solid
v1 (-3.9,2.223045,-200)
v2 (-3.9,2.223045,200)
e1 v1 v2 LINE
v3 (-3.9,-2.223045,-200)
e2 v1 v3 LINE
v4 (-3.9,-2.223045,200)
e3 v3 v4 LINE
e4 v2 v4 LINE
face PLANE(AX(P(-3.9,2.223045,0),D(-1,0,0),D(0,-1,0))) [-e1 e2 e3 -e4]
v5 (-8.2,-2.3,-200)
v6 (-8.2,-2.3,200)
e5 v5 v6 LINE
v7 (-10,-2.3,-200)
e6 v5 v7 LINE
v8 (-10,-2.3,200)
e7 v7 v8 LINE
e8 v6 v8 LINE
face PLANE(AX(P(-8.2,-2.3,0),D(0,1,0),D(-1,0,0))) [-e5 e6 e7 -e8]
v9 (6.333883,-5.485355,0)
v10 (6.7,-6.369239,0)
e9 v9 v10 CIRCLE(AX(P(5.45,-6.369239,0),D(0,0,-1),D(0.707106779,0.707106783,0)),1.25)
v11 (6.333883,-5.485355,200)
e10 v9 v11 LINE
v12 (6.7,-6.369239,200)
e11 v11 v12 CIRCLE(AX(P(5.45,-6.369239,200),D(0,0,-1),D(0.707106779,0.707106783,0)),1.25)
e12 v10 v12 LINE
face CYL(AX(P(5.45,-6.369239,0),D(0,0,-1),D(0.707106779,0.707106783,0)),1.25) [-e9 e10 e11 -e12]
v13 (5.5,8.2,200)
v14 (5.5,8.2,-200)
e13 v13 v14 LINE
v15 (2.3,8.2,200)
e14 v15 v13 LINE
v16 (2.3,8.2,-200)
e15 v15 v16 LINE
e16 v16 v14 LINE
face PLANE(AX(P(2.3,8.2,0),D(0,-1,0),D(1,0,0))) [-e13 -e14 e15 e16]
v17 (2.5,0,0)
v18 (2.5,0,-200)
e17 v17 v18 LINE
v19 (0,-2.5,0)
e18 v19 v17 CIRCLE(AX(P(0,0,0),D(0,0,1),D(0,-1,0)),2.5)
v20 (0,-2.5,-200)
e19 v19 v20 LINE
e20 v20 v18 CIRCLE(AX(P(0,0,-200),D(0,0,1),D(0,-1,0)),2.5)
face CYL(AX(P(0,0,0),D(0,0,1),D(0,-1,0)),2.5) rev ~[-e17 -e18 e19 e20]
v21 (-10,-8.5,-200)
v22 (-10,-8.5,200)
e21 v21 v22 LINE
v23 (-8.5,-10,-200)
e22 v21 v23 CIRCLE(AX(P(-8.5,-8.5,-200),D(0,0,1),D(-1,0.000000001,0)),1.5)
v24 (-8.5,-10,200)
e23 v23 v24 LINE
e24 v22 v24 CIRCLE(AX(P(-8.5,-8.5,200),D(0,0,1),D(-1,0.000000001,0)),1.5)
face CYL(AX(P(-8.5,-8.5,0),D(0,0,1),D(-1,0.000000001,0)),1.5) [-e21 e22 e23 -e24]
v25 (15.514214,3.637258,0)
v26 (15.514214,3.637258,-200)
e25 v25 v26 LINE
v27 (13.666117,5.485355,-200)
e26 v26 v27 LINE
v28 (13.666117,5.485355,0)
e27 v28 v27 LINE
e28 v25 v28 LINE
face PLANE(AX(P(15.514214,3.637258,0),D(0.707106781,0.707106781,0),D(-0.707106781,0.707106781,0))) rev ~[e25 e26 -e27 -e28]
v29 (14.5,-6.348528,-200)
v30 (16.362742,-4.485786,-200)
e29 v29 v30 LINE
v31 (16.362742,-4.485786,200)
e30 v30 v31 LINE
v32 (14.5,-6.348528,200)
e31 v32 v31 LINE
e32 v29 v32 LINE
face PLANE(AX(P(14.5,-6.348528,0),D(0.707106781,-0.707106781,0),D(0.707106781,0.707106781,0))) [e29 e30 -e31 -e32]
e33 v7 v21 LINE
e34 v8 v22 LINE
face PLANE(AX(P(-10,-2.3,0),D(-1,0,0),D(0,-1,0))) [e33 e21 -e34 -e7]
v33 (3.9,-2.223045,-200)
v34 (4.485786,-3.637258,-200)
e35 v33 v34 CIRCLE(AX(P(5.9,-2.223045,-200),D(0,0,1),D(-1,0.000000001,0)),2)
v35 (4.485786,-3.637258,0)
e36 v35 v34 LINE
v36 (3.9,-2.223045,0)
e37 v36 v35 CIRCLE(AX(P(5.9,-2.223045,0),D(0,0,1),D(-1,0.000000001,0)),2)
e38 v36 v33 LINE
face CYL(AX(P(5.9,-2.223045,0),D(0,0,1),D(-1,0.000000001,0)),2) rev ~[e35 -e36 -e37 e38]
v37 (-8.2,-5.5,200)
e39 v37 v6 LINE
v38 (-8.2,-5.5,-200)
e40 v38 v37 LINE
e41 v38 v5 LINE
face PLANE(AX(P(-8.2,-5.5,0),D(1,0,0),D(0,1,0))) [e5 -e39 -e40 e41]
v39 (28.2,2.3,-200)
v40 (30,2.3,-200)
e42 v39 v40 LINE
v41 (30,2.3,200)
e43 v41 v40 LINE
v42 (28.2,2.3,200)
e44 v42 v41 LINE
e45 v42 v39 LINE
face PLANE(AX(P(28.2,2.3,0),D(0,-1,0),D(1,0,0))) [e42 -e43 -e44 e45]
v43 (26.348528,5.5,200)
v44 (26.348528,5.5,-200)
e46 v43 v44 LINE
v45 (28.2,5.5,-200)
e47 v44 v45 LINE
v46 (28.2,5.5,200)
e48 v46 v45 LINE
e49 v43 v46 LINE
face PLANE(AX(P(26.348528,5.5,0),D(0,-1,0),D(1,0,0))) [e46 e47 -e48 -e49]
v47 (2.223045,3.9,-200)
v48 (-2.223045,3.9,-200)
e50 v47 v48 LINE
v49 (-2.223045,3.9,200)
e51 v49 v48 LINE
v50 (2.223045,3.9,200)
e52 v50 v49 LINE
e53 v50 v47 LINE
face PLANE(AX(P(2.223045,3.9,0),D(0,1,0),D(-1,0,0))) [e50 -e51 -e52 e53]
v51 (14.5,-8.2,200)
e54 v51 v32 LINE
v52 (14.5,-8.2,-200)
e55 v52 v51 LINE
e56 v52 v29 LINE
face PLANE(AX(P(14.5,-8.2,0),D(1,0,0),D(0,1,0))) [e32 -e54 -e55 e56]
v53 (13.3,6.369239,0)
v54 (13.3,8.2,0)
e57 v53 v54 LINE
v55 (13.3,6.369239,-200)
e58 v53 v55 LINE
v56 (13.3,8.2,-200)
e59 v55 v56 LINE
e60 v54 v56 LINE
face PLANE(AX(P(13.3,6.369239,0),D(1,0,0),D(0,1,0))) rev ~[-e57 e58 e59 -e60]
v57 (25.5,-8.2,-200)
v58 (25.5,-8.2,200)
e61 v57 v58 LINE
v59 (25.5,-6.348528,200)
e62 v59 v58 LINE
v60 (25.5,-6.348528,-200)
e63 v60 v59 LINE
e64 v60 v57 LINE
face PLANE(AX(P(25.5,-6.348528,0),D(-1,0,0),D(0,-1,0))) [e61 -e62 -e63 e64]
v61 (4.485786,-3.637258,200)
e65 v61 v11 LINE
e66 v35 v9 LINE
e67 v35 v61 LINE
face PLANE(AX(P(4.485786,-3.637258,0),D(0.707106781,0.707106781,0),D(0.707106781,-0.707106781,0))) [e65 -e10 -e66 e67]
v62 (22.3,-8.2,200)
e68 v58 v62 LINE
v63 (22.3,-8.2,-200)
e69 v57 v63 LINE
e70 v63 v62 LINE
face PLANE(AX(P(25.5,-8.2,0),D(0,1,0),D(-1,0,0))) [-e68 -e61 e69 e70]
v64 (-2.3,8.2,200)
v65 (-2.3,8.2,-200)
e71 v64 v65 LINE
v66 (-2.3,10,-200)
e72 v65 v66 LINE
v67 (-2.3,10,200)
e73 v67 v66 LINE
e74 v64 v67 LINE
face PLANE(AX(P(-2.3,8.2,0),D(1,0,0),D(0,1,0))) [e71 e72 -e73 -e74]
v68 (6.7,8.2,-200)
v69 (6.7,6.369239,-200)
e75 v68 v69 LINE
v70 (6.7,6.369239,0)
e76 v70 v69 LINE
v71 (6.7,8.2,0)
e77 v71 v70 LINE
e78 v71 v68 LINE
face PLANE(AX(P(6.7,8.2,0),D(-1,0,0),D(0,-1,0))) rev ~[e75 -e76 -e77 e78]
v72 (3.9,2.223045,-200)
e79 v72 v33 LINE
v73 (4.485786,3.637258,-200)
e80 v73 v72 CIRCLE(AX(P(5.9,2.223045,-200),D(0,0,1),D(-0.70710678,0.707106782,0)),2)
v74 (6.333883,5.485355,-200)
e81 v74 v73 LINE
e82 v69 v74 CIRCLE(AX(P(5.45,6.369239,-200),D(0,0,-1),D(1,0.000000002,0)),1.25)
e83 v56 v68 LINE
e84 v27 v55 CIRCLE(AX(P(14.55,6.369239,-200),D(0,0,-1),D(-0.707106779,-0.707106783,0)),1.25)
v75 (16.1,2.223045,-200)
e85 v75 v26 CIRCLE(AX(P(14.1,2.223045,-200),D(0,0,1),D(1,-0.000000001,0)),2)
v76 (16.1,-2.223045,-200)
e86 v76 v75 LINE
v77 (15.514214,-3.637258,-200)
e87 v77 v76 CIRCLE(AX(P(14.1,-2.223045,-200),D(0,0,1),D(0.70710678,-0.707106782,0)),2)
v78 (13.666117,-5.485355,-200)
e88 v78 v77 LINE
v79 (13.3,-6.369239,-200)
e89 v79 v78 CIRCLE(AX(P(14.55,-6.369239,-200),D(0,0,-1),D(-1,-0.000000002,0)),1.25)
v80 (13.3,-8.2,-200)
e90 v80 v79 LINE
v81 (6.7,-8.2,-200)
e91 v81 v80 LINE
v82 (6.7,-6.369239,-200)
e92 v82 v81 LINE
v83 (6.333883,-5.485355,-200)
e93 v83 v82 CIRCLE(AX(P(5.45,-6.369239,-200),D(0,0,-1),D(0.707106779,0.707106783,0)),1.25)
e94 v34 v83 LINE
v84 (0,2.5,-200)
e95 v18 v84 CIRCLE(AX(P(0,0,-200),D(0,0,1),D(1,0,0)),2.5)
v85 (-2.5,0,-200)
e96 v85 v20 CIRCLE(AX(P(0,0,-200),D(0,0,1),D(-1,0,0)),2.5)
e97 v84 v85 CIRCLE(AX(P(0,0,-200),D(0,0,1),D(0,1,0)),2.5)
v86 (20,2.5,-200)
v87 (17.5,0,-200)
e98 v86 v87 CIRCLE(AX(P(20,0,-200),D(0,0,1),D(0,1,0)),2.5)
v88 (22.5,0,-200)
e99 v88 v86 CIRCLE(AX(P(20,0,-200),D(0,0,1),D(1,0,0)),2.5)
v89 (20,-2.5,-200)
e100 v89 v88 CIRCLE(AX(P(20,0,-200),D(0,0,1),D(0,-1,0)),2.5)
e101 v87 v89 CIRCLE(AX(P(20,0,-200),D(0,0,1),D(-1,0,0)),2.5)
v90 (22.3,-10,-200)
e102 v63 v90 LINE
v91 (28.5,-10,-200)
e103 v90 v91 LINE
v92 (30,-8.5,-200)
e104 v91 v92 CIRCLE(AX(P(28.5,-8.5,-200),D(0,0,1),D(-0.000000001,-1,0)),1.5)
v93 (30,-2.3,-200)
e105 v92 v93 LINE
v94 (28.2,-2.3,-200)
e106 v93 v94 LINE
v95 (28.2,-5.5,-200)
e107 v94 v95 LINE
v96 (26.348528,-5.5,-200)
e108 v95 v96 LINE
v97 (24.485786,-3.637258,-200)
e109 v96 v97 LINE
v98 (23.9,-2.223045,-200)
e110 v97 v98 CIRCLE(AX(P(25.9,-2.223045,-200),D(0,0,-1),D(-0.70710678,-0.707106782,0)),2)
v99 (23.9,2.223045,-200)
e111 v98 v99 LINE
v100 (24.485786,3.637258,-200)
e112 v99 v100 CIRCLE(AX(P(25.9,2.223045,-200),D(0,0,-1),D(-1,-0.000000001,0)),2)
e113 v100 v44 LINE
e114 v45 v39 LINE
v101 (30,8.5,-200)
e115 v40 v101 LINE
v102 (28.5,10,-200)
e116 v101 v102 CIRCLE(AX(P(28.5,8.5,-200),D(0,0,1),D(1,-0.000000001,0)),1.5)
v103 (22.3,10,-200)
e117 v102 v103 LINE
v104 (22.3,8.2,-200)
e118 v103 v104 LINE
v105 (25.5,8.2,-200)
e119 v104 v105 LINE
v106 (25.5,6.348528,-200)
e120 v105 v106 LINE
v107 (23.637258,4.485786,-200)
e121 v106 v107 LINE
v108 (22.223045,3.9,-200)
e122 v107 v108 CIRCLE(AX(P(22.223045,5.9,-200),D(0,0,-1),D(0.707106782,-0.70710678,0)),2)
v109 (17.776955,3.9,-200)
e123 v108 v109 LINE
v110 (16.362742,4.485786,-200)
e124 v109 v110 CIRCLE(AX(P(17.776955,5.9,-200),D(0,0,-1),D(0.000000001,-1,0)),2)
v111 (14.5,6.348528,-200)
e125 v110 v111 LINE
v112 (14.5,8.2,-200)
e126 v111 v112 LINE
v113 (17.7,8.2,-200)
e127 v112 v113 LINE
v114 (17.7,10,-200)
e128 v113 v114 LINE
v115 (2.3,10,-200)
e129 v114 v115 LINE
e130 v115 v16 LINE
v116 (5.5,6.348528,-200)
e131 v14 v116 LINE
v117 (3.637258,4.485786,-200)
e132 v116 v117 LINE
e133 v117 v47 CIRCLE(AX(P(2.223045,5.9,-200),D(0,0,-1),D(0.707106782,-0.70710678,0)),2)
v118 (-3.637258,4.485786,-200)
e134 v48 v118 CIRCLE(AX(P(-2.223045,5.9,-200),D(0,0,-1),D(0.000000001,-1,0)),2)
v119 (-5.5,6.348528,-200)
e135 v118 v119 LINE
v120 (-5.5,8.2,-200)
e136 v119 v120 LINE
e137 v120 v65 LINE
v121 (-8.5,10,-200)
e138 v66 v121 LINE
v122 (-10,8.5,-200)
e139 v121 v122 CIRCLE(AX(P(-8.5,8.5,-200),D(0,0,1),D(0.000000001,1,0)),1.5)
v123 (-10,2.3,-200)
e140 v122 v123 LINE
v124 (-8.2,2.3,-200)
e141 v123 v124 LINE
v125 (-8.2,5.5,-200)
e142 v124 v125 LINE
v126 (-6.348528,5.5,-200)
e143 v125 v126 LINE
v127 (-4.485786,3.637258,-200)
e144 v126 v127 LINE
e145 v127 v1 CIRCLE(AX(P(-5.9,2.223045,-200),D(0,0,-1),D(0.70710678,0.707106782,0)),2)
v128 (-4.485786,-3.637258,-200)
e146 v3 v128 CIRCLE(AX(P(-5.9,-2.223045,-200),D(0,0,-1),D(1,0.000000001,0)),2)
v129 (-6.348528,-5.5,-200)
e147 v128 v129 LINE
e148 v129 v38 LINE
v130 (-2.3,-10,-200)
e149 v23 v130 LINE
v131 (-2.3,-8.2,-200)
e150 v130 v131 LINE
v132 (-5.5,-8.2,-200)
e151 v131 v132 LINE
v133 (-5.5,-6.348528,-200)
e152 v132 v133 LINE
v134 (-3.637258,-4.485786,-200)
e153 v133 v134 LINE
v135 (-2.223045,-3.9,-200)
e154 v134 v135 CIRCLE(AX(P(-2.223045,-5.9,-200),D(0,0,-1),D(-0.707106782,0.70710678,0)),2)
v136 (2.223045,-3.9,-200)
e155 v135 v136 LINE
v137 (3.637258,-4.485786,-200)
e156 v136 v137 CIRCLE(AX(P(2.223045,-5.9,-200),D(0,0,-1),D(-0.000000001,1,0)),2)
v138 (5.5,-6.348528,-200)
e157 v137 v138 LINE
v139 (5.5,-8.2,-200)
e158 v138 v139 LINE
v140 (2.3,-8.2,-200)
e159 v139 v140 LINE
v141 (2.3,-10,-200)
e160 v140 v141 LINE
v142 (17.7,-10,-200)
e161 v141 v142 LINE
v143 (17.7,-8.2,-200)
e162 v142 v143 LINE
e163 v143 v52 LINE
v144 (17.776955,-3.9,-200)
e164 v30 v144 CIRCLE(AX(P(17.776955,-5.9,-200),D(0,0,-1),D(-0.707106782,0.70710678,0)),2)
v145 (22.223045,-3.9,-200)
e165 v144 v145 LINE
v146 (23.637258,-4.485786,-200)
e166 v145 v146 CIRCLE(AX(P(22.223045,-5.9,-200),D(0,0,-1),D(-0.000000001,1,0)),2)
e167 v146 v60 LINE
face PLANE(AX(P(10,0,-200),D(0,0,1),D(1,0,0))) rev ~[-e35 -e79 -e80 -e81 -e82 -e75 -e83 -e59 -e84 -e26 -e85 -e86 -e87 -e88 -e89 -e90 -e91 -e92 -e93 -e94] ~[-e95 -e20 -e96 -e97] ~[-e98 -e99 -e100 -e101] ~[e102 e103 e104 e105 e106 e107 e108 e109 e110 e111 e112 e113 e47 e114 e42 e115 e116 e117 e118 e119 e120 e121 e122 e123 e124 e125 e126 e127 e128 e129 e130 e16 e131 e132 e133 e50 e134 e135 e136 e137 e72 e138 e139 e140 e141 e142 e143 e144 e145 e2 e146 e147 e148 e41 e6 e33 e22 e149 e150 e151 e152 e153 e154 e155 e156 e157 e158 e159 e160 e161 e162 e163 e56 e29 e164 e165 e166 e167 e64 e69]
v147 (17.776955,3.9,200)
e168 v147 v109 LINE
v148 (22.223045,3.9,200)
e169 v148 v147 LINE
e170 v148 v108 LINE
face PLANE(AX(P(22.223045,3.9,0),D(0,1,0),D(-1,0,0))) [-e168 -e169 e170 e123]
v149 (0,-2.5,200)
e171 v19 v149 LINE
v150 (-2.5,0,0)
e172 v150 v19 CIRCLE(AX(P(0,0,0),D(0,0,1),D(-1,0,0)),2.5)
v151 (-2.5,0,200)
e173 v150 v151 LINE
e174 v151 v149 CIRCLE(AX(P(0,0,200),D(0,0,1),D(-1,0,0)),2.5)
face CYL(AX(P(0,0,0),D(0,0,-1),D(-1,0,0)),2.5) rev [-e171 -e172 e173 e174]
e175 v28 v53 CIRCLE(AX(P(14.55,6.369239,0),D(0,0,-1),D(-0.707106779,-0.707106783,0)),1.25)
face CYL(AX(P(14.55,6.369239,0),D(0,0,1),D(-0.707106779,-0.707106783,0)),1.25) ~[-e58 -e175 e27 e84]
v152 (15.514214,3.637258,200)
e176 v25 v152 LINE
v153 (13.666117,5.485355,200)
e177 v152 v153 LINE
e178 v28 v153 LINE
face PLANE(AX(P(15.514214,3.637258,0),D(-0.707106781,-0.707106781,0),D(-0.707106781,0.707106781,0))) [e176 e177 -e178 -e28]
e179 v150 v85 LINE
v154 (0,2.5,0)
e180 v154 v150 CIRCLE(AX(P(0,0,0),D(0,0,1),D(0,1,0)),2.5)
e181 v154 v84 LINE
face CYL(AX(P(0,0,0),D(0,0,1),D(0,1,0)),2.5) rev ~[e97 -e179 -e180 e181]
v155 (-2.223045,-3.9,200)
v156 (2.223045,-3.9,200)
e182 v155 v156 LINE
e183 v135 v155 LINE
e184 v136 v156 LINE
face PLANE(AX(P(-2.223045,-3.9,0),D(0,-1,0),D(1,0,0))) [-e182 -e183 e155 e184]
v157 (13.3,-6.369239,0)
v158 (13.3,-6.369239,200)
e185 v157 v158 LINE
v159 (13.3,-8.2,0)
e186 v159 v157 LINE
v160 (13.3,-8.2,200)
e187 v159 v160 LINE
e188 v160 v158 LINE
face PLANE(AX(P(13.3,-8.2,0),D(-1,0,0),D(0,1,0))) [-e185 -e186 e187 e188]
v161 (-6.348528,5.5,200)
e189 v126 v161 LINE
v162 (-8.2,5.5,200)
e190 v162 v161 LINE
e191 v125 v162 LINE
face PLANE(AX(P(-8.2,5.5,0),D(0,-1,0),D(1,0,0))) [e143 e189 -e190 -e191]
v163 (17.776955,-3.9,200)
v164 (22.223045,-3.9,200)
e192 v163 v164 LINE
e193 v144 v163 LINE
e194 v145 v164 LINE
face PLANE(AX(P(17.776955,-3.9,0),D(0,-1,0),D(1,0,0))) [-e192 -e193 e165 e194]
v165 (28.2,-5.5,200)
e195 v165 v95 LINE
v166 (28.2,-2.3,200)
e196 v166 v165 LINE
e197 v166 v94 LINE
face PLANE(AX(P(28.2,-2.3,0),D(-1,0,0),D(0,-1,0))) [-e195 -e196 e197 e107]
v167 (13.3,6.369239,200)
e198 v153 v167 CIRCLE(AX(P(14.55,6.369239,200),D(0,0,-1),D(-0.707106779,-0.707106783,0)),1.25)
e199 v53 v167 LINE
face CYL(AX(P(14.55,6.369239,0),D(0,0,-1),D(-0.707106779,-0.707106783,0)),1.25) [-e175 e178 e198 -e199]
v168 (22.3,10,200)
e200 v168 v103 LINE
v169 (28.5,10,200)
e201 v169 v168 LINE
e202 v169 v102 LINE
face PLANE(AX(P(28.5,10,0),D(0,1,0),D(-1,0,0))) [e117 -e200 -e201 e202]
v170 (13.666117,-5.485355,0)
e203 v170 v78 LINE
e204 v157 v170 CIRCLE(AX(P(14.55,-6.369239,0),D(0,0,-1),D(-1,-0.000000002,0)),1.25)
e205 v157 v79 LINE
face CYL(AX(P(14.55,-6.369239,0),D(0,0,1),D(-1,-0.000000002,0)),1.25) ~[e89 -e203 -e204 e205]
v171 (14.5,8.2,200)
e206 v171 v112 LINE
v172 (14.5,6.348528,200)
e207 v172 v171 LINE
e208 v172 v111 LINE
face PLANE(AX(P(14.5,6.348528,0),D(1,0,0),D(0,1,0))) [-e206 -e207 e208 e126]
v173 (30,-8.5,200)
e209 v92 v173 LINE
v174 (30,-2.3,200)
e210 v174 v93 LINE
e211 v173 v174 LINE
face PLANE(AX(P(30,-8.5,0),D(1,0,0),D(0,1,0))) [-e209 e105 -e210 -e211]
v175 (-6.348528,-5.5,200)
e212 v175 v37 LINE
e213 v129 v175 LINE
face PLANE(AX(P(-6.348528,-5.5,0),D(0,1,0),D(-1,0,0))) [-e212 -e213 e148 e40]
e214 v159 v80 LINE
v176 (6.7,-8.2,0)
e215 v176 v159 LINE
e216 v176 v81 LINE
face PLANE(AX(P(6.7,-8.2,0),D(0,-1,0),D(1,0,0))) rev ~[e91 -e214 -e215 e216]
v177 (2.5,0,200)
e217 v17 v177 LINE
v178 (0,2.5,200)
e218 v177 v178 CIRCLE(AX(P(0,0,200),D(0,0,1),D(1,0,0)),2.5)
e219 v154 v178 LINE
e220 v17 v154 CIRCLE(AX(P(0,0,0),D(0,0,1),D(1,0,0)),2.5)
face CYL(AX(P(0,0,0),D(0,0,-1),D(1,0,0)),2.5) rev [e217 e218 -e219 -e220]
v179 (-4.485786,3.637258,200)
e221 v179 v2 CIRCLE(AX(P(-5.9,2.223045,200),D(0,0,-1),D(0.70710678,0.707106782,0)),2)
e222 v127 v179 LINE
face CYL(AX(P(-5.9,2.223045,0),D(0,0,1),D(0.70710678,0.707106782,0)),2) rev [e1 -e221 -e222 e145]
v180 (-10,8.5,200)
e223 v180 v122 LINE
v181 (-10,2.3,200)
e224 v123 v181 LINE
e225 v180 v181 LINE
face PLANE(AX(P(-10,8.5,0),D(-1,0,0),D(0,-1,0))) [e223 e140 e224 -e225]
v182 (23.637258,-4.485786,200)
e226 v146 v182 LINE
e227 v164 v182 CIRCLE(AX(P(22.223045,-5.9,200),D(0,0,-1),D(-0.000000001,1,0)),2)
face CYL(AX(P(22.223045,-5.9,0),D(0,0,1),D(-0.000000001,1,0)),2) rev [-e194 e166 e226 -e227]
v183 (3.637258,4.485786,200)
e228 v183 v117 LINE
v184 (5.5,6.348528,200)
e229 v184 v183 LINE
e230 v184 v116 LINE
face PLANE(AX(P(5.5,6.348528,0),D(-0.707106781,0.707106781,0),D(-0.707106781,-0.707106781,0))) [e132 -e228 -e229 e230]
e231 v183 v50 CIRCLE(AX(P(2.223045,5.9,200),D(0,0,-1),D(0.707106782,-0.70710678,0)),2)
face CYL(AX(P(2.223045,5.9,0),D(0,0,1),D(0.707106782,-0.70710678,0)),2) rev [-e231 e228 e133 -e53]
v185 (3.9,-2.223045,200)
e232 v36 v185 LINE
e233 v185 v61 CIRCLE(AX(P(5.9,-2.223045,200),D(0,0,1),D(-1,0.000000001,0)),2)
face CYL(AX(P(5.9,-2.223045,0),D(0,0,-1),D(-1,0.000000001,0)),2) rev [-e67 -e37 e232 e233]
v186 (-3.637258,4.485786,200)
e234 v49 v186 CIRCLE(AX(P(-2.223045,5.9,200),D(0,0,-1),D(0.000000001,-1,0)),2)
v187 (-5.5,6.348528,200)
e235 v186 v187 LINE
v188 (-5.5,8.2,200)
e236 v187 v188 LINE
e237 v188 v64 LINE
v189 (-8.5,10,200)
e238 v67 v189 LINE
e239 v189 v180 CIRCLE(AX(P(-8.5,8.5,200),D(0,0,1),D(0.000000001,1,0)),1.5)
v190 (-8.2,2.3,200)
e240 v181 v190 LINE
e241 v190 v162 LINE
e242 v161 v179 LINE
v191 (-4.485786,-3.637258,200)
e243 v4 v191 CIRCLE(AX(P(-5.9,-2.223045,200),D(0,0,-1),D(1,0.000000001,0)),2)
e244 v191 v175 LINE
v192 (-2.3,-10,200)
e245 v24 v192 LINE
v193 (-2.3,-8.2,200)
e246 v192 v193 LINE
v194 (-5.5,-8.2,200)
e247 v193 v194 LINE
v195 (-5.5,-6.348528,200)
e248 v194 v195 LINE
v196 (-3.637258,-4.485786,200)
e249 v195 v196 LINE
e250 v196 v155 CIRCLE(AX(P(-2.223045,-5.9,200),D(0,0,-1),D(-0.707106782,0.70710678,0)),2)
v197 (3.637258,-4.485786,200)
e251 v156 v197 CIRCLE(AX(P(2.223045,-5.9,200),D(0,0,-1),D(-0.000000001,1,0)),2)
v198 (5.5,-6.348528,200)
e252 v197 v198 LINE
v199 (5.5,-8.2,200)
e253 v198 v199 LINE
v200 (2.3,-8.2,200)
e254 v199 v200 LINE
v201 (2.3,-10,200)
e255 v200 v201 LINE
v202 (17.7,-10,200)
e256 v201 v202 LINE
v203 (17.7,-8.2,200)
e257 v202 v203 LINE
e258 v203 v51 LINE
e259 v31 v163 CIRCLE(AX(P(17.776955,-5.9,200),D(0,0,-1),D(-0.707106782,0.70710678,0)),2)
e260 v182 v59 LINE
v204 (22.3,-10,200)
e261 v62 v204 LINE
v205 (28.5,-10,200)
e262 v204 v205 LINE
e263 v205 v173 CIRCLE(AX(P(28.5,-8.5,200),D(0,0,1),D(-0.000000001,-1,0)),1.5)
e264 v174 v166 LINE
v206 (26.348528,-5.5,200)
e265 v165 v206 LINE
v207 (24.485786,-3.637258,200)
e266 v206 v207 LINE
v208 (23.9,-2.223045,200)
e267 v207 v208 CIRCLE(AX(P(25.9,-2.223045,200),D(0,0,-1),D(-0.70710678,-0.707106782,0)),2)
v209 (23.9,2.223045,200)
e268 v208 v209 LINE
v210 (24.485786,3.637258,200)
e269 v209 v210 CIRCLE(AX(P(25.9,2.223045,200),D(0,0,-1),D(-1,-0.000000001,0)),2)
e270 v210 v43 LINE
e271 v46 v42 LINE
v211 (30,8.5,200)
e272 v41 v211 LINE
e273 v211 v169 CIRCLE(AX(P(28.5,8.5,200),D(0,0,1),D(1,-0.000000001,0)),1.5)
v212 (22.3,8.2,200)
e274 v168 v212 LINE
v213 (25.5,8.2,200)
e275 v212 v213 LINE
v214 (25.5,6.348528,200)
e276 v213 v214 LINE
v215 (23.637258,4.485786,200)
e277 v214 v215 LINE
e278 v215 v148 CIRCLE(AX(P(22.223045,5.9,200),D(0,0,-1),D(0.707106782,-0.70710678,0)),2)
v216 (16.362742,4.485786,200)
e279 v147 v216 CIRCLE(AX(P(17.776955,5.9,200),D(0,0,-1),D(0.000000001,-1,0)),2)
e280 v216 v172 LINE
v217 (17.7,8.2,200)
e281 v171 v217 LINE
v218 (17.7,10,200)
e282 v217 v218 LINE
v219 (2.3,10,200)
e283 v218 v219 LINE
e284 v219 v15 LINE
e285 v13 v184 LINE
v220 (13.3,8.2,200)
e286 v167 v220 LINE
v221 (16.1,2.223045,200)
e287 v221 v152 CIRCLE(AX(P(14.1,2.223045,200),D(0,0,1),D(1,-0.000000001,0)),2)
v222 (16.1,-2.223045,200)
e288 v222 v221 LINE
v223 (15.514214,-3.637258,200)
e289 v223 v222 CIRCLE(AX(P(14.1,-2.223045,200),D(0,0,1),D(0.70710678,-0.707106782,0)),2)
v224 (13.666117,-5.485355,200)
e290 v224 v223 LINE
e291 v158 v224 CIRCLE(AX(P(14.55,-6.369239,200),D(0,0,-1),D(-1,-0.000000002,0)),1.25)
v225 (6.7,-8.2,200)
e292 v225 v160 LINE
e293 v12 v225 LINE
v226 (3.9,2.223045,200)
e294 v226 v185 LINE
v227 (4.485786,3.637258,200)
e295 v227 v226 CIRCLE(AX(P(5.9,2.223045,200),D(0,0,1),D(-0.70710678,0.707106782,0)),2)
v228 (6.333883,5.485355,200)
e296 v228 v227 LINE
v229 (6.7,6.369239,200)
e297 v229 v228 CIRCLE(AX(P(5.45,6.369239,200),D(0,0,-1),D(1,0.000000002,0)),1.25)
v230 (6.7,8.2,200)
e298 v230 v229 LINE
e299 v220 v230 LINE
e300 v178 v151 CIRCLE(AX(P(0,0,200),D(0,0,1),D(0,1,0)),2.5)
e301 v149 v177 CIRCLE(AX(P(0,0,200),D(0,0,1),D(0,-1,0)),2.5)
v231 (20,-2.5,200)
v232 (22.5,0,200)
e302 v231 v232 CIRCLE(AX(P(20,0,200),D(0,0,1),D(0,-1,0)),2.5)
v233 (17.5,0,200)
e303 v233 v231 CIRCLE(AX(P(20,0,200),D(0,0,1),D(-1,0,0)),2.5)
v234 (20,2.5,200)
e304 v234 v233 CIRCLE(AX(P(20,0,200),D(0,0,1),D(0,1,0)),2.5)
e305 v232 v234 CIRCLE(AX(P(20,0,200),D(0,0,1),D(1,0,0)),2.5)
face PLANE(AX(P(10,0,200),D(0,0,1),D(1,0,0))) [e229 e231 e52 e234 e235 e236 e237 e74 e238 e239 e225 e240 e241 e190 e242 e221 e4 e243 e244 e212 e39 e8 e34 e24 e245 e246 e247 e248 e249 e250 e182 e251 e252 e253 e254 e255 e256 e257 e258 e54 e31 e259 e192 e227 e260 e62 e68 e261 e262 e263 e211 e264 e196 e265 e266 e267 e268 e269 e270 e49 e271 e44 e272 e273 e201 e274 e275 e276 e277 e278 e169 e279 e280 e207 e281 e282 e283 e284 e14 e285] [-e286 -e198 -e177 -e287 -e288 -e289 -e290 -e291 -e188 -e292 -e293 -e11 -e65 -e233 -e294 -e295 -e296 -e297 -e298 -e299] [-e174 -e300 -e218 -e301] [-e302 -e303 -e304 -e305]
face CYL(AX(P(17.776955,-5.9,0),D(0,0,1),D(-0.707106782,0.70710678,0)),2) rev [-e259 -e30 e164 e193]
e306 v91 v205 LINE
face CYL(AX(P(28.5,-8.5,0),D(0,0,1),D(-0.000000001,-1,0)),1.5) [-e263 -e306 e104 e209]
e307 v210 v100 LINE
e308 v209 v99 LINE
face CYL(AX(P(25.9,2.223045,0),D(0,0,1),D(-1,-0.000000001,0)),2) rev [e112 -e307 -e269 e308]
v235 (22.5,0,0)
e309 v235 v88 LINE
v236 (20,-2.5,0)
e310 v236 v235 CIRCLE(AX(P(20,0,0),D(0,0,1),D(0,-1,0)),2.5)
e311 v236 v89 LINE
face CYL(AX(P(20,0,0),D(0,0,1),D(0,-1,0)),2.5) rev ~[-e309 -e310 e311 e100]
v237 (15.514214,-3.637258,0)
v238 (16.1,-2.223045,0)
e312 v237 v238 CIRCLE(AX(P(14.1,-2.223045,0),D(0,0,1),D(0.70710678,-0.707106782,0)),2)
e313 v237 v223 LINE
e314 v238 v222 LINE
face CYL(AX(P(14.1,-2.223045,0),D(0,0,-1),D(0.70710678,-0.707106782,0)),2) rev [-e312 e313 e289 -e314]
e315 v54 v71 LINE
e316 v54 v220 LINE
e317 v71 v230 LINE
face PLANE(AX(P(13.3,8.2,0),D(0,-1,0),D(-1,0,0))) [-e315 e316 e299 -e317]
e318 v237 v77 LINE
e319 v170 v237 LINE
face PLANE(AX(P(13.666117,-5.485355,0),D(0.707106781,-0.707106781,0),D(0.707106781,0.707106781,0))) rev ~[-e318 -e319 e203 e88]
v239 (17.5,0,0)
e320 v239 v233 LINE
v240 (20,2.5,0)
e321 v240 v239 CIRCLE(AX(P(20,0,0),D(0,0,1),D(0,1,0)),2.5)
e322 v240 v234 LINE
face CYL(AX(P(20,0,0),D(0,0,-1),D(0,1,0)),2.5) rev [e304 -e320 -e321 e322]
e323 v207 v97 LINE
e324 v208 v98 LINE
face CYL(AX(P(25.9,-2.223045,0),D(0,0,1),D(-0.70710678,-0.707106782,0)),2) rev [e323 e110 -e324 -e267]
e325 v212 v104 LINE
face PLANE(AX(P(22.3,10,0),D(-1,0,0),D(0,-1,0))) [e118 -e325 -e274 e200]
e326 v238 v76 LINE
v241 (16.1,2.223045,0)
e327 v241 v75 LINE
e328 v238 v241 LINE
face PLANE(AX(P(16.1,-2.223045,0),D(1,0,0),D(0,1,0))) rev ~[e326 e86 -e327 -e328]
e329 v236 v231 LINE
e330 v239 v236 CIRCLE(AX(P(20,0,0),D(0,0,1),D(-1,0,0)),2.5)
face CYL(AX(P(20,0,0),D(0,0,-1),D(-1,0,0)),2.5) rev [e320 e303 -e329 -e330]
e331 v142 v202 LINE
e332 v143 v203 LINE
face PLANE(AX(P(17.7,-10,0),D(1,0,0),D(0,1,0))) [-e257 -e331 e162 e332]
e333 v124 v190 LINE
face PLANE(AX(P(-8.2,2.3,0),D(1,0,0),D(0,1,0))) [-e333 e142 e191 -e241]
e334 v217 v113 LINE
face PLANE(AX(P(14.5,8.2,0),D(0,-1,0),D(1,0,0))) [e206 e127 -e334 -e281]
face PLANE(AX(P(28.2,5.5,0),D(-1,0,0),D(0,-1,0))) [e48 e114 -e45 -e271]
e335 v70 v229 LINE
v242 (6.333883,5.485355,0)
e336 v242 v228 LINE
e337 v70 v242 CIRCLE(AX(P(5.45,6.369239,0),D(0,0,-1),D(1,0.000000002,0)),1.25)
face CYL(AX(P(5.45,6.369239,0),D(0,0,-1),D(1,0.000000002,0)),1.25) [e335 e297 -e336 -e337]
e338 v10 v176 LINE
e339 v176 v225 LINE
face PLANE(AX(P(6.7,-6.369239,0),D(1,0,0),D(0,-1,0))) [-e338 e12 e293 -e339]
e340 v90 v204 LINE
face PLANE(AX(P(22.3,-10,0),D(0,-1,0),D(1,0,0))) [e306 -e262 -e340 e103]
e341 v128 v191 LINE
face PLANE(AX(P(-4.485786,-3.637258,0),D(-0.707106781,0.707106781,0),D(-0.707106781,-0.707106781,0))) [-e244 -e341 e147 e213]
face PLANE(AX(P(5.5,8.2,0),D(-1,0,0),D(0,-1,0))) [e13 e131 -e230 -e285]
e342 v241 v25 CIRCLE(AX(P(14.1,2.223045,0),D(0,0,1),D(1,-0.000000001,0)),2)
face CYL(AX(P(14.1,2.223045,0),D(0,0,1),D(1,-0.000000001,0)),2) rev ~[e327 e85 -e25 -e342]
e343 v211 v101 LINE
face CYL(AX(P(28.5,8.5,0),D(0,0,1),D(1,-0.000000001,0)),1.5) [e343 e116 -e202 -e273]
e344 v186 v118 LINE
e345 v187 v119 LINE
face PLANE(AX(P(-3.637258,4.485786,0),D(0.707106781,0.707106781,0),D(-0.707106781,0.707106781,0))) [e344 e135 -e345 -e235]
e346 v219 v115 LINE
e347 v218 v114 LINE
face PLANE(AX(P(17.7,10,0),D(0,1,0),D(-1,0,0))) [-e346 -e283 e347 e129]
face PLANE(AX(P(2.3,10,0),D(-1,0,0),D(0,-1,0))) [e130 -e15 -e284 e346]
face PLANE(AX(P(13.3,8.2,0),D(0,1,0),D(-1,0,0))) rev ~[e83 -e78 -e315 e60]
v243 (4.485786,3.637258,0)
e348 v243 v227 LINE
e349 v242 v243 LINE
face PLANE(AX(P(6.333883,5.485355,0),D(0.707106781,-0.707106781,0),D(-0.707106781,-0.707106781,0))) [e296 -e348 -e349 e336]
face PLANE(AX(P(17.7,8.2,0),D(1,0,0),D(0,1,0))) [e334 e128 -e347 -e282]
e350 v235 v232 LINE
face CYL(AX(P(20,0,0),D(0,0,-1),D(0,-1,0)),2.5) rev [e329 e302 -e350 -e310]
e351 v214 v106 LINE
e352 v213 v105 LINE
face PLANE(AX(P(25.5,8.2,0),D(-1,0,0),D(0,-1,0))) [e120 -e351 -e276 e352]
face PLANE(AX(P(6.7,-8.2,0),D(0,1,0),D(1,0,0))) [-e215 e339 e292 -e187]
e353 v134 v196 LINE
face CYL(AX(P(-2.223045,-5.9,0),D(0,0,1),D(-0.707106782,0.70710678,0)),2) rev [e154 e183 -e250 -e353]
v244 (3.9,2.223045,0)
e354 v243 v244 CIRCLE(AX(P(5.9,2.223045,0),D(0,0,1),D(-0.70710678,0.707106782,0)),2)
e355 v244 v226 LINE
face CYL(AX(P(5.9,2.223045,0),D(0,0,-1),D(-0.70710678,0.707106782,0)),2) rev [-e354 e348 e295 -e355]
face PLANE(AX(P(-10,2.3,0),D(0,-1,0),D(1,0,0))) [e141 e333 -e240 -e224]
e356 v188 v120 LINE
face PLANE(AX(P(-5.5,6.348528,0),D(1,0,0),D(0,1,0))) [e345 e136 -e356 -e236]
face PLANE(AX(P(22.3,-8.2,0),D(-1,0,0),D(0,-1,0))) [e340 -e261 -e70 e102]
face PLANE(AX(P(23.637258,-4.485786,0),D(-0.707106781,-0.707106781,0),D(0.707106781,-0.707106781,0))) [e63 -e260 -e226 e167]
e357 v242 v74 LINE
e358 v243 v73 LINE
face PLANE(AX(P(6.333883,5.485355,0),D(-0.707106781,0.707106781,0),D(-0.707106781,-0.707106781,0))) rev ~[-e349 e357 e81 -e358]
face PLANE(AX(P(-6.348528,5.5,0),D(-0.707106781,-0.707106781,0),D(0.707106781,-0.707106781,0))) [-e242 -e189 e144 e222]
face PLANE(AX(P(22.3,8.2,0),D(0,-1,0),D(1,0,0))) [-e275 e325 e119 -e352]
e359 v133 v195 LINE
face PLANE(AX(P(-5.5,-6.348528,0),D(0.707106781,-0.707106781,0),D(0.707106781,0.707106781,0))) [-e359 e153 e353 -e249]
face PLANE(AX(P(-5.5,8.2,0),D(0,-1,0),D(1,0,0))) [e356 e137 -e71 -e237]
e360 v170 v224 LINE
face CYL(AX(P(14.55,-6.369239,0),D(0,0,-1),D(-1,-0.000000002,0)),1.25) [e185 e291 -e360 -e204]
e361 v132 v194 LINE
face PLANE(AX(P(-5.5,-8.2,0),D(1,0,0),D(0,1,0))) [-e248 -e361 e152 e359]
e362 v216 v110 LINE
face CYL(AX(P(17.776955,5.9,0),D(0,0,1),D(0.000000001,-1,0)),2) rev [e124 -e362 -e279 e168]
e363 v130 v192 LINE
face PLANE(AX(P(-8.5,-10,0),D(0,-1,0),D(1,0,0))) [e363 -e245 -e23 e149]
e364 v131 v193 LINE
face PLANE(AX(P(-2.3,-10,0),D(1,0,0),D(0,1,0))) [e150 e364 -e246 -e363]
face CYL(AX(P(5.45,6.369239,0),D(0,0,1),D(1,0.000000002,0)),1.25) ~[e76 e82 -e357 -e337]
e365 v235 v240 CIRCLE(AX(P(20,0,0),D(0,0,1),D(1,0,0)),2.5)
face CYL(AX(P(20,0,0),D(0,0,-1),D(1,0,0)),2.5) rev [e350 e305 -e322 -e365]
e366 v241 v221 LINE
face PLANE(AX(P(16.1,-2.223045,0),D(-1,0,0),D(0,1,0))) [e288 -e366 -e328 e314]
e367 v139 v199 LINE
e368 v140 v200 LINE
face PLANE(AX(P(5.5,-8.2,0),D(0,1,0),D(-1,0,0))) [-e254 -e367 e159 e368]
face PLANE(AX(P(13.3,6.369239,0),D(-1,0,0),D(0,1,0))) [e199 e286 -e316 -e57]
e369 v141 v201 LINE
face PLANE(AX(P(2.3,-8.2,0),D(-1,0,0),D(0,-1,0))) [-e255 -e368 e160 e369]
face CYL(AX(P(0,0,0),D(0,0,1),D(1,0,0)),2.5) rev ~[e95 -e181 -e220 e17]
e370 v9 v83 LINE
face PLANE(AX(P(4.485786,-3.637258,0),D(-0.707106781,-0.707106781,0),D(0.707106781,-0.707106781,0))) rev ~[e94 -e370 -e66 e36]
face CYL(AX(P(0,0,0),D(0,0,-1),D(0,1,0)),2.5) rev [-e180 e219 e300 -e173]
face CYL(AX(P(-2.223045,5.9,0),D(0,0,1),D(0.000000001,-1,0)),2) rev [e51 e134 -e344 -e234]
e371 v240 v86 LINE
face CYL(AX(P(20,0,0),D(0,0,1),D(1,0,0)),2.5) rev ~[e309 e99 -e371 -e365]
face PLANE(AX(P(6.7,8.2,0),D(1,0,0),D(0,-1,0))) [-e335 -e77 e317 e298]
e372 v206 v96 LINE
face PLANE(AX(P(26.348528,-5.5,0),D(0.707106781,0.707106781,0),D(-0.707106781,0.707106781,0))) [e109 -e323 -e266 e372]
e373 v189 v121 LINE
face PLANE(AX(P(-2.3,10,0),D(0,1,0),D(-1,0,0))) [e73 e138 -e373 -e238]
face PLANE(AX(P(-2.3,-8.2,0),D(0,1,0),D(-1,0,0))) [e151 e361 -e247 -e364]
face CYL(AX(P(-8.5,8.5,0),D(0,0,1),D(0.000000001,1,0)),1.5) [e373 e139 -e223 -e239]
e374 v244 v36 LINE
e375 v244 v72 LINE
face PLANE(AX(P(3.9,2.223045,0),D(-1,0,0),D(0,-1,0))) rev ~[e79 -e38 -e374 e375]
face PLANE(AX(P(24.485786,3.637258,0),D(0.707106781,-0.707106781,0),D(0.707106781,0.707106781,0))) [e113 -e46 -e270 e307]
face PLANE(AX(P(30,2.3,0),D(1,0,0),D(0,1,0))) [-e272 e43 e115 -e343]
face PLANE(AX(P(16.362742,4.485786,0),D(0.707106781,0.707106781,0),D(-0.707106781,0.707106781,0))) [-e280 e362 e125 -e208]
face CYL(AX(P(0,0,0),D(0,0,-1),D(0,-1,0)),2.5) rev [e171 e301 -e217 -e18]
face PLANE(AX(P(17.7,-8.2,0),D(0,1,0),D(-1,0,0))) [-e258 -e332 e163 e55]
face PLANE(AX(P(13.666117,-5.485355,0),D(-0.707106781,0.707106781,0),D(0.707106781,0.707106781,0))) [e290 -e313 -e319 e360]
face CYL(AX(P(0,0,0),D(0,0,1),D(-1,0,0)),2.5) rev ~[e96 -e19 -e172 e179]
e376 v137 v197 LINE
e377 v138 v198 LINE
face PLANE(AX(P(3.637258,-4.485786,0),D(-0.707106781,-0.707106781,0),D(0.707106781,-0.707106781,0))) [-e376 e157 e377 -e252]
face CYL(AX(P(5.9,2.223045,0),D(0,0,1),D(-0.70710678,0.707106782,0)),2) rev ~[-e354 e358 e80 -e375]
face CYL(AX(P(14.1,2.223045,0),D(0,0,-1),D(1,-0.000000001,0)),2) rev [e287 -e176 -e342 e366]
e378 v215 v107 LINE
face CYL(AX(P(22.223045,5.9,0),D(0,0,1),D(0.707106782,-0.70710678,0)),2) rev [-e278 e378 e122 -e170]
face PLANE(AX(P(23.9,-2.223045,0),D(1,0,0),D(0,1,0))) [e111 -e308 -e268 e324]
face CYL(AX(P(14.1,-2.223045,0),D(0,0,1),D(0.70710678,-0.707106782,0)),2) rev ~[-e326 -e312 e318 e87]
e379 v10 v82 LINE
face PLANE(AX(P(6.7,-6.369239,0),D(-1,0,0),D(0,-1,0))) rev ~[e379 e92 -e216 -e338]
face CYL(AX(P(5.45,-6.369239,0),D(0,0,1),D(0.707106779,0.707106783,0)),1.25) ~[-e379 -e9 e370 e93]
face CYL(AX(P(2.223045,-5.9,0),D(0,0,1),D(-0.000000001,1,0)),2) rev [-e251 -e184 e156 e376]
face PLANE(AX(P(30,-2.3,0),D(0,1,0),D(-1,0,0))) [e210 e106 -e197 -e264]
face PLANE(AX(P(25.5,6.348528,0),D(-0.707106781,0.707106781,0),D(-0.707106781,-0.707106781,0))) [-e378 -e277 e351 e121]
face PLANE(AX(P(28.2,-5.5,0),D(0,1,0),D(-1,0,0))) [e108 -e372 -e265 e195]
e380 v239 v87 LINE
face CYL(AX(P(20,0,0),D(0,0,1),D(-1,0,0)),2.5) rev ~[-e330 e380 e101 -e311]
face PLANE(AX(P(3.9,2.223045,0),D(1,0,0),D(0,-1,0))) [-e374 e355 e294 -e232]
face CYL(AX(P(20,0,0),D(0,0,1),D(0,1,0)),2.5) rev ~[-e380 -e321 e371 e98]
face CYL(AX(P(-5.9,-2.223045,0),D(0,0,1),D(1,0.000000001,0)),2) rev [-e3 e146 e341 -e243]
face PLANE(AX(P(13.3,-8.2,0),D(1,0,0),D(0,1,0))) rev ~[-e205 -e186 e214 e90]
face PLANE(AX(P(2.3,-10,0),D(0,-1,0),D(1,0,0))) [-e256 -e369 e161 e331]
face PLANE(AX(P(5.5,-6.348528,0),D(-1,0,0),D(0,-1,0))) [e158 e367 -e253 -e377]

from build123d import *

# Parameters (mm, degrees)
SALIENTE_EXTRUIR1_DEPTH = 200


with BuildPart() as part:
    # Croquis1 → Saliente-Extruir1 (new, symmetric)
    with BuildSketch(Plane.XY):
        with BuildLine():
            Line((-10, 8.5), (-10, 2.3))
            Line((-10, 2.3), (-8.2, 2.3))
            Line((-8.2, 2.3), (-8.2, 5.5))
            Line((-8.2, 5.5), (-6.348528137, 5.5))
            Line((-6.348528137, 5.5), (-4.485786438, 3.6372583))
            ThreePointArc((-4.485786438, 3.6372583), (-4.052240935, 2.988411603), (-3.9, 2.223044738))
            Line((-3.9, 2.223044738), (-3.9, 0))
            Line((-3.9, 0), (-3.9, -2.223044738))
            ThreePointArc((-3.9, -2.223044738), (-4.052240935, -2.988411603), (-4.485786438, -3.6372583))
            Line((-4.485786438, -3.6372583), (-6.348528137, -5.5))
            Line((-6.348528137, -5.5), (-8.2, -5.5))
            Line((-8.2, -5.5), (-8.2, -2.3))
            Line((-8.2, -2.3), (-10, -2.3))
            Line((-10, -2.3), (-10, -8.5))
            ThreePointArc((-10, -8.5), (-9.560660172, -9.560660172), (-8.5, -10))
            Line((-8.5, -10), (-2.3, -10))
            Line((-2.3, -10), (-2.3, -8.2))
            Line((-2.3, -8.2), (-5.5, -8.2))
            Line((-5.5, -8.2), (-5.5, -6.348528137))
            Line((-5.5, -6.348528137), (-3.6372583, -4.485786438))
            ThreePointArc((-3.6372583, -4.485786438), (-2.988411603, -4.052240935), (-2.223044738, -3.9))
            Line((-2.223044738, -3.9), (0, -3.9))
            Line((0, -3.9), (2.223044738, -3.9))
            ThreePointArc((2.223044738, -3.9), (2.988411603, -4.052240935), (3.6372583, -4.485786438))
            Line((3.6372583, -4.485786438), (5.5, -6.348528137))
            Line((5.5, -6.348528137), (5.5, -8.2))
            Line((5.5, -8.2), (2.3, -8.2))
            Line((2.3, -8.2), (2.3, -10))
            Line((2.3, -10), (17.7, -10))
            Line((17.7, -10), (17.7, -8.2))
            Line((17.7, -8.2), (14.5, -8.2))
            Line((14.5, -8.2), (14.5, -6.348528137))
            Line((14.5, -6.348528137), (16.3627417, -4.485786438))
            ThreePointArc((16.3627417, -4.485786438), (17.011588397, -4.052240935), (17.776955262, -3.9))
            Line((17.776955262, -3.9), (20, -3.9))
            Line((20, -3.9), (22.223044738, -3.9))
            ThreePointArc((22.223044738, -3.9), (22.988411603, -4.052240935), (23.6372583, -4.485786438))
            Line((23.6372583, -4.485786438), (25.5, -6.348528137))
            Line((25.5, -6.348528137), (25.5, -8.2))
            Line((25.5, -8.2), (22.3, -8.2))
            Line((22.3, -8.2), (22.3, -10))
            Line((22.3, -10), (28.5, -10))
            ThreePointArc((28.5, -10), (29.560660172, -9.560660172), (30, -8.5))
            Line((30, -8.5), (30, -2.3))
            Line((30, -2.3), (28.2, -2.3))
            Line((28.2, -2.3), (28.2, -5.5))
            Line((28.2, -5.5), (26.348528137, -5.5))
            Line((26.348528137, -5.5), (24.485786438, -3.6372583))
            ThreePointArc((24.485786438, -3.6372583), (24.052240935, -2.988411603), (23.9, -2.223044738))
            Line((23.9, -2.223044738), (23.9, 0))
            Line((23.9, 0), (23.9, 2.223044738))
            ThreePointArc((23.9, 2.223044738), (24.052240935, 2.988411603), (24.485786438, 3.6372583))
            Line((24.485786438, 3.6372583), (26.348528137, 5.5))
            Line((26.348528137, 5.5), (28.2, 5.5))
            Line((28.2, 5.5), (28.2, 2.3))
            Line((28.2, 2.3), (30, 2.3))
            Line((30, 2.3), (30, 8.5))
            ThreePointArc((30, 8.5), (29.560660172, 9.560660172), (28.5, 10))
            Line((28.5, 10), (22.3, 10))
            Line((22.3, 10), (22.3, 8.2))
            Line((22.3, 8.2), (25.5, 8.2))
            Line((25.5, 8.2), (25.5, 6.348528137))
            Line((25.5, 6.348528137), (23.6372583, 4.485786438))
            ThreePointArc((23.6372583, 4.485786438), (22.988411603, 4.052240935), (22.223044738, 3.9))
            Line((22.223044738, 3.9), (20, 3.9))
            Line((20, 3.9), (17.776955262, 3.9))
            ThreePointArc((17.776955262, 3.9), (17.011588397, 4.052240935), (16.3627417, 4.485786438))
            Line((16.3627417, 4.485786438), (14.5, 6.348528137))
            Line((14.5, 6.348528137), (14.5, 8.2))
            Line((14.5, 8.2), (17.7, 8.2))
            Line((17.7, 8.2), (17.7, 10))
            Line((17.7, 10), (2.3, 10))
            Line((2.3, 10), (2.3, 8.2))
            Line((2.3, 8.2), (5.5, 8.2))
            Line((5.5, 8.2), (5.5, 6.348528137))
            Line((5.5, 6.348528137), (3.6372583, 4.485786438))
            ThreePointArc((3.6372583, 4.485786438), (2.988411603, 4.052240935), (2.223044738, 3.9))
            Line((2.223044738, 3.9), (0, 3.9))
            Line((0, 3.9), (-2.223044738, 3.9))
            ThreePointArc((-2.223044738, 3.9), (-2.988411603, 4.052240935), (-3.6372583, 4.485786438))
            Line((-3.6372583, 4.485786438), (-5.5, 6.348528137))
            Line((-5.5, 6.348528137), (-5.5, 8.2))
            Line((-5.5, 8.2), (-2.3, 8.2))
            Line((-2.3, 8.2), (-2.3, 10))
            Line((-2.3, 10), (-8.5, 10))
            ThreePointArc((-8.5, 10), (-9.560660172, 9.560660172), (-10, 8.5))
        make_face()
        with BuildLine():
            Line((3.9, 2.223044738), (3.9, 0))
            Line((3.9, 0), (3.9, -2.223044738))
            ThreePointArc((3.9, -2.223044738), (4.052240935, -2.988411603), (4.485786438, -3.6372583))
            Line((4.485786438, -3.6372583), (6.333883476, -5.485355339))
            ThreePointArc((6.333883476, -5.485355339), (6.604849416, -5.890884525), (6.7, -6.369238816))
            Line((6.7, -6.369238816), (6.7, -8.2))
            Line((6.7, -8.2), (13.3, -8.2))
            Line((13.3, -8.2), (13.3, -6.369238816))
            ThreePointArc((13.3, -6.369238816), (13.395150584, -5.890884525), (13.666116524, -5.485355339))
            Line((13.666116524, -5.485355339), (15.514213562, -3.6372583))
            ThreePointArc((15.514213562, -3.6372583), (15.947759065, -2.988411603), (16.1, -2.223044738))
            Line((16.1, -2.223044738), (16.1, 0))
            Line((16.1, 0), (16.1, 2.223044738))
            ThreePointArc((16.1, 2.223044738), (15.947759065, 2.988411603), (15.514213562, 3.6372583))
            Line((15.514213562, 3.6372583), (13.666116524, 5.485355339))
            ThreePointArc((13.666116524, 5.485355339), (13.395150584, 5.890884525), (13.3, 6.369238816))
            Line((13.3, 6.369238816), (13.3, 8.2))
            Line((13.3, 8.2), (6.7, 8.2))
            Line((6.7, 8.2), (6.7, 6.369238816))
            ThreePointArc((6.7, 6.369238816), (6.604849416, 5.890884525), (6.333883476, 5.485355339))
            Line((6.333883476, 5.485355339), (4.485786438, 3.6372583))
            ThreePointArc((4.485786438, 3.6372583), (4.052240935, 2.988411603), (3.9, 2.223044738))
        make_face(mode=Mode.SUBTRACT)
        with BuildLine():
            ThreePointArc((0, 2.5), (-1.767766953, 1.767766953), (-2.5, 0))
            ThreePointArc((-2.5, 0), (-1.767766953, -1.767766953), (0, -2.5))
            ThreePointArc((0, -2.5), (1.767766953, -1.767766953), (2.5, 0))
            ThreePointArc((2.5, 0), (1.767766953, 1.767766953), (0, 2.5))
        make_face(mode=Mode.SUBTRACT)
        with BuildLine():
            ThreePointArc((20, 2.5), (18.232233047, 1.767766953), (17.5, 0))
            ThreePointArc((17.5, 0), (18.232233047, -1.767766953), (20, -2.5))
            ThreePointArc((20, -2.5), (21.767766953, -1.767766953), (22.5, 0))
            ThreePointArc((22.5, 0), (21.767766953, 1.767766953), (20, 2.5))
        make_face(mode=Mode.SUBTRACT)
    extrude(amount=SALIENTE_EXTRUIR1_DEPTH, both=True)


solid = part.part
